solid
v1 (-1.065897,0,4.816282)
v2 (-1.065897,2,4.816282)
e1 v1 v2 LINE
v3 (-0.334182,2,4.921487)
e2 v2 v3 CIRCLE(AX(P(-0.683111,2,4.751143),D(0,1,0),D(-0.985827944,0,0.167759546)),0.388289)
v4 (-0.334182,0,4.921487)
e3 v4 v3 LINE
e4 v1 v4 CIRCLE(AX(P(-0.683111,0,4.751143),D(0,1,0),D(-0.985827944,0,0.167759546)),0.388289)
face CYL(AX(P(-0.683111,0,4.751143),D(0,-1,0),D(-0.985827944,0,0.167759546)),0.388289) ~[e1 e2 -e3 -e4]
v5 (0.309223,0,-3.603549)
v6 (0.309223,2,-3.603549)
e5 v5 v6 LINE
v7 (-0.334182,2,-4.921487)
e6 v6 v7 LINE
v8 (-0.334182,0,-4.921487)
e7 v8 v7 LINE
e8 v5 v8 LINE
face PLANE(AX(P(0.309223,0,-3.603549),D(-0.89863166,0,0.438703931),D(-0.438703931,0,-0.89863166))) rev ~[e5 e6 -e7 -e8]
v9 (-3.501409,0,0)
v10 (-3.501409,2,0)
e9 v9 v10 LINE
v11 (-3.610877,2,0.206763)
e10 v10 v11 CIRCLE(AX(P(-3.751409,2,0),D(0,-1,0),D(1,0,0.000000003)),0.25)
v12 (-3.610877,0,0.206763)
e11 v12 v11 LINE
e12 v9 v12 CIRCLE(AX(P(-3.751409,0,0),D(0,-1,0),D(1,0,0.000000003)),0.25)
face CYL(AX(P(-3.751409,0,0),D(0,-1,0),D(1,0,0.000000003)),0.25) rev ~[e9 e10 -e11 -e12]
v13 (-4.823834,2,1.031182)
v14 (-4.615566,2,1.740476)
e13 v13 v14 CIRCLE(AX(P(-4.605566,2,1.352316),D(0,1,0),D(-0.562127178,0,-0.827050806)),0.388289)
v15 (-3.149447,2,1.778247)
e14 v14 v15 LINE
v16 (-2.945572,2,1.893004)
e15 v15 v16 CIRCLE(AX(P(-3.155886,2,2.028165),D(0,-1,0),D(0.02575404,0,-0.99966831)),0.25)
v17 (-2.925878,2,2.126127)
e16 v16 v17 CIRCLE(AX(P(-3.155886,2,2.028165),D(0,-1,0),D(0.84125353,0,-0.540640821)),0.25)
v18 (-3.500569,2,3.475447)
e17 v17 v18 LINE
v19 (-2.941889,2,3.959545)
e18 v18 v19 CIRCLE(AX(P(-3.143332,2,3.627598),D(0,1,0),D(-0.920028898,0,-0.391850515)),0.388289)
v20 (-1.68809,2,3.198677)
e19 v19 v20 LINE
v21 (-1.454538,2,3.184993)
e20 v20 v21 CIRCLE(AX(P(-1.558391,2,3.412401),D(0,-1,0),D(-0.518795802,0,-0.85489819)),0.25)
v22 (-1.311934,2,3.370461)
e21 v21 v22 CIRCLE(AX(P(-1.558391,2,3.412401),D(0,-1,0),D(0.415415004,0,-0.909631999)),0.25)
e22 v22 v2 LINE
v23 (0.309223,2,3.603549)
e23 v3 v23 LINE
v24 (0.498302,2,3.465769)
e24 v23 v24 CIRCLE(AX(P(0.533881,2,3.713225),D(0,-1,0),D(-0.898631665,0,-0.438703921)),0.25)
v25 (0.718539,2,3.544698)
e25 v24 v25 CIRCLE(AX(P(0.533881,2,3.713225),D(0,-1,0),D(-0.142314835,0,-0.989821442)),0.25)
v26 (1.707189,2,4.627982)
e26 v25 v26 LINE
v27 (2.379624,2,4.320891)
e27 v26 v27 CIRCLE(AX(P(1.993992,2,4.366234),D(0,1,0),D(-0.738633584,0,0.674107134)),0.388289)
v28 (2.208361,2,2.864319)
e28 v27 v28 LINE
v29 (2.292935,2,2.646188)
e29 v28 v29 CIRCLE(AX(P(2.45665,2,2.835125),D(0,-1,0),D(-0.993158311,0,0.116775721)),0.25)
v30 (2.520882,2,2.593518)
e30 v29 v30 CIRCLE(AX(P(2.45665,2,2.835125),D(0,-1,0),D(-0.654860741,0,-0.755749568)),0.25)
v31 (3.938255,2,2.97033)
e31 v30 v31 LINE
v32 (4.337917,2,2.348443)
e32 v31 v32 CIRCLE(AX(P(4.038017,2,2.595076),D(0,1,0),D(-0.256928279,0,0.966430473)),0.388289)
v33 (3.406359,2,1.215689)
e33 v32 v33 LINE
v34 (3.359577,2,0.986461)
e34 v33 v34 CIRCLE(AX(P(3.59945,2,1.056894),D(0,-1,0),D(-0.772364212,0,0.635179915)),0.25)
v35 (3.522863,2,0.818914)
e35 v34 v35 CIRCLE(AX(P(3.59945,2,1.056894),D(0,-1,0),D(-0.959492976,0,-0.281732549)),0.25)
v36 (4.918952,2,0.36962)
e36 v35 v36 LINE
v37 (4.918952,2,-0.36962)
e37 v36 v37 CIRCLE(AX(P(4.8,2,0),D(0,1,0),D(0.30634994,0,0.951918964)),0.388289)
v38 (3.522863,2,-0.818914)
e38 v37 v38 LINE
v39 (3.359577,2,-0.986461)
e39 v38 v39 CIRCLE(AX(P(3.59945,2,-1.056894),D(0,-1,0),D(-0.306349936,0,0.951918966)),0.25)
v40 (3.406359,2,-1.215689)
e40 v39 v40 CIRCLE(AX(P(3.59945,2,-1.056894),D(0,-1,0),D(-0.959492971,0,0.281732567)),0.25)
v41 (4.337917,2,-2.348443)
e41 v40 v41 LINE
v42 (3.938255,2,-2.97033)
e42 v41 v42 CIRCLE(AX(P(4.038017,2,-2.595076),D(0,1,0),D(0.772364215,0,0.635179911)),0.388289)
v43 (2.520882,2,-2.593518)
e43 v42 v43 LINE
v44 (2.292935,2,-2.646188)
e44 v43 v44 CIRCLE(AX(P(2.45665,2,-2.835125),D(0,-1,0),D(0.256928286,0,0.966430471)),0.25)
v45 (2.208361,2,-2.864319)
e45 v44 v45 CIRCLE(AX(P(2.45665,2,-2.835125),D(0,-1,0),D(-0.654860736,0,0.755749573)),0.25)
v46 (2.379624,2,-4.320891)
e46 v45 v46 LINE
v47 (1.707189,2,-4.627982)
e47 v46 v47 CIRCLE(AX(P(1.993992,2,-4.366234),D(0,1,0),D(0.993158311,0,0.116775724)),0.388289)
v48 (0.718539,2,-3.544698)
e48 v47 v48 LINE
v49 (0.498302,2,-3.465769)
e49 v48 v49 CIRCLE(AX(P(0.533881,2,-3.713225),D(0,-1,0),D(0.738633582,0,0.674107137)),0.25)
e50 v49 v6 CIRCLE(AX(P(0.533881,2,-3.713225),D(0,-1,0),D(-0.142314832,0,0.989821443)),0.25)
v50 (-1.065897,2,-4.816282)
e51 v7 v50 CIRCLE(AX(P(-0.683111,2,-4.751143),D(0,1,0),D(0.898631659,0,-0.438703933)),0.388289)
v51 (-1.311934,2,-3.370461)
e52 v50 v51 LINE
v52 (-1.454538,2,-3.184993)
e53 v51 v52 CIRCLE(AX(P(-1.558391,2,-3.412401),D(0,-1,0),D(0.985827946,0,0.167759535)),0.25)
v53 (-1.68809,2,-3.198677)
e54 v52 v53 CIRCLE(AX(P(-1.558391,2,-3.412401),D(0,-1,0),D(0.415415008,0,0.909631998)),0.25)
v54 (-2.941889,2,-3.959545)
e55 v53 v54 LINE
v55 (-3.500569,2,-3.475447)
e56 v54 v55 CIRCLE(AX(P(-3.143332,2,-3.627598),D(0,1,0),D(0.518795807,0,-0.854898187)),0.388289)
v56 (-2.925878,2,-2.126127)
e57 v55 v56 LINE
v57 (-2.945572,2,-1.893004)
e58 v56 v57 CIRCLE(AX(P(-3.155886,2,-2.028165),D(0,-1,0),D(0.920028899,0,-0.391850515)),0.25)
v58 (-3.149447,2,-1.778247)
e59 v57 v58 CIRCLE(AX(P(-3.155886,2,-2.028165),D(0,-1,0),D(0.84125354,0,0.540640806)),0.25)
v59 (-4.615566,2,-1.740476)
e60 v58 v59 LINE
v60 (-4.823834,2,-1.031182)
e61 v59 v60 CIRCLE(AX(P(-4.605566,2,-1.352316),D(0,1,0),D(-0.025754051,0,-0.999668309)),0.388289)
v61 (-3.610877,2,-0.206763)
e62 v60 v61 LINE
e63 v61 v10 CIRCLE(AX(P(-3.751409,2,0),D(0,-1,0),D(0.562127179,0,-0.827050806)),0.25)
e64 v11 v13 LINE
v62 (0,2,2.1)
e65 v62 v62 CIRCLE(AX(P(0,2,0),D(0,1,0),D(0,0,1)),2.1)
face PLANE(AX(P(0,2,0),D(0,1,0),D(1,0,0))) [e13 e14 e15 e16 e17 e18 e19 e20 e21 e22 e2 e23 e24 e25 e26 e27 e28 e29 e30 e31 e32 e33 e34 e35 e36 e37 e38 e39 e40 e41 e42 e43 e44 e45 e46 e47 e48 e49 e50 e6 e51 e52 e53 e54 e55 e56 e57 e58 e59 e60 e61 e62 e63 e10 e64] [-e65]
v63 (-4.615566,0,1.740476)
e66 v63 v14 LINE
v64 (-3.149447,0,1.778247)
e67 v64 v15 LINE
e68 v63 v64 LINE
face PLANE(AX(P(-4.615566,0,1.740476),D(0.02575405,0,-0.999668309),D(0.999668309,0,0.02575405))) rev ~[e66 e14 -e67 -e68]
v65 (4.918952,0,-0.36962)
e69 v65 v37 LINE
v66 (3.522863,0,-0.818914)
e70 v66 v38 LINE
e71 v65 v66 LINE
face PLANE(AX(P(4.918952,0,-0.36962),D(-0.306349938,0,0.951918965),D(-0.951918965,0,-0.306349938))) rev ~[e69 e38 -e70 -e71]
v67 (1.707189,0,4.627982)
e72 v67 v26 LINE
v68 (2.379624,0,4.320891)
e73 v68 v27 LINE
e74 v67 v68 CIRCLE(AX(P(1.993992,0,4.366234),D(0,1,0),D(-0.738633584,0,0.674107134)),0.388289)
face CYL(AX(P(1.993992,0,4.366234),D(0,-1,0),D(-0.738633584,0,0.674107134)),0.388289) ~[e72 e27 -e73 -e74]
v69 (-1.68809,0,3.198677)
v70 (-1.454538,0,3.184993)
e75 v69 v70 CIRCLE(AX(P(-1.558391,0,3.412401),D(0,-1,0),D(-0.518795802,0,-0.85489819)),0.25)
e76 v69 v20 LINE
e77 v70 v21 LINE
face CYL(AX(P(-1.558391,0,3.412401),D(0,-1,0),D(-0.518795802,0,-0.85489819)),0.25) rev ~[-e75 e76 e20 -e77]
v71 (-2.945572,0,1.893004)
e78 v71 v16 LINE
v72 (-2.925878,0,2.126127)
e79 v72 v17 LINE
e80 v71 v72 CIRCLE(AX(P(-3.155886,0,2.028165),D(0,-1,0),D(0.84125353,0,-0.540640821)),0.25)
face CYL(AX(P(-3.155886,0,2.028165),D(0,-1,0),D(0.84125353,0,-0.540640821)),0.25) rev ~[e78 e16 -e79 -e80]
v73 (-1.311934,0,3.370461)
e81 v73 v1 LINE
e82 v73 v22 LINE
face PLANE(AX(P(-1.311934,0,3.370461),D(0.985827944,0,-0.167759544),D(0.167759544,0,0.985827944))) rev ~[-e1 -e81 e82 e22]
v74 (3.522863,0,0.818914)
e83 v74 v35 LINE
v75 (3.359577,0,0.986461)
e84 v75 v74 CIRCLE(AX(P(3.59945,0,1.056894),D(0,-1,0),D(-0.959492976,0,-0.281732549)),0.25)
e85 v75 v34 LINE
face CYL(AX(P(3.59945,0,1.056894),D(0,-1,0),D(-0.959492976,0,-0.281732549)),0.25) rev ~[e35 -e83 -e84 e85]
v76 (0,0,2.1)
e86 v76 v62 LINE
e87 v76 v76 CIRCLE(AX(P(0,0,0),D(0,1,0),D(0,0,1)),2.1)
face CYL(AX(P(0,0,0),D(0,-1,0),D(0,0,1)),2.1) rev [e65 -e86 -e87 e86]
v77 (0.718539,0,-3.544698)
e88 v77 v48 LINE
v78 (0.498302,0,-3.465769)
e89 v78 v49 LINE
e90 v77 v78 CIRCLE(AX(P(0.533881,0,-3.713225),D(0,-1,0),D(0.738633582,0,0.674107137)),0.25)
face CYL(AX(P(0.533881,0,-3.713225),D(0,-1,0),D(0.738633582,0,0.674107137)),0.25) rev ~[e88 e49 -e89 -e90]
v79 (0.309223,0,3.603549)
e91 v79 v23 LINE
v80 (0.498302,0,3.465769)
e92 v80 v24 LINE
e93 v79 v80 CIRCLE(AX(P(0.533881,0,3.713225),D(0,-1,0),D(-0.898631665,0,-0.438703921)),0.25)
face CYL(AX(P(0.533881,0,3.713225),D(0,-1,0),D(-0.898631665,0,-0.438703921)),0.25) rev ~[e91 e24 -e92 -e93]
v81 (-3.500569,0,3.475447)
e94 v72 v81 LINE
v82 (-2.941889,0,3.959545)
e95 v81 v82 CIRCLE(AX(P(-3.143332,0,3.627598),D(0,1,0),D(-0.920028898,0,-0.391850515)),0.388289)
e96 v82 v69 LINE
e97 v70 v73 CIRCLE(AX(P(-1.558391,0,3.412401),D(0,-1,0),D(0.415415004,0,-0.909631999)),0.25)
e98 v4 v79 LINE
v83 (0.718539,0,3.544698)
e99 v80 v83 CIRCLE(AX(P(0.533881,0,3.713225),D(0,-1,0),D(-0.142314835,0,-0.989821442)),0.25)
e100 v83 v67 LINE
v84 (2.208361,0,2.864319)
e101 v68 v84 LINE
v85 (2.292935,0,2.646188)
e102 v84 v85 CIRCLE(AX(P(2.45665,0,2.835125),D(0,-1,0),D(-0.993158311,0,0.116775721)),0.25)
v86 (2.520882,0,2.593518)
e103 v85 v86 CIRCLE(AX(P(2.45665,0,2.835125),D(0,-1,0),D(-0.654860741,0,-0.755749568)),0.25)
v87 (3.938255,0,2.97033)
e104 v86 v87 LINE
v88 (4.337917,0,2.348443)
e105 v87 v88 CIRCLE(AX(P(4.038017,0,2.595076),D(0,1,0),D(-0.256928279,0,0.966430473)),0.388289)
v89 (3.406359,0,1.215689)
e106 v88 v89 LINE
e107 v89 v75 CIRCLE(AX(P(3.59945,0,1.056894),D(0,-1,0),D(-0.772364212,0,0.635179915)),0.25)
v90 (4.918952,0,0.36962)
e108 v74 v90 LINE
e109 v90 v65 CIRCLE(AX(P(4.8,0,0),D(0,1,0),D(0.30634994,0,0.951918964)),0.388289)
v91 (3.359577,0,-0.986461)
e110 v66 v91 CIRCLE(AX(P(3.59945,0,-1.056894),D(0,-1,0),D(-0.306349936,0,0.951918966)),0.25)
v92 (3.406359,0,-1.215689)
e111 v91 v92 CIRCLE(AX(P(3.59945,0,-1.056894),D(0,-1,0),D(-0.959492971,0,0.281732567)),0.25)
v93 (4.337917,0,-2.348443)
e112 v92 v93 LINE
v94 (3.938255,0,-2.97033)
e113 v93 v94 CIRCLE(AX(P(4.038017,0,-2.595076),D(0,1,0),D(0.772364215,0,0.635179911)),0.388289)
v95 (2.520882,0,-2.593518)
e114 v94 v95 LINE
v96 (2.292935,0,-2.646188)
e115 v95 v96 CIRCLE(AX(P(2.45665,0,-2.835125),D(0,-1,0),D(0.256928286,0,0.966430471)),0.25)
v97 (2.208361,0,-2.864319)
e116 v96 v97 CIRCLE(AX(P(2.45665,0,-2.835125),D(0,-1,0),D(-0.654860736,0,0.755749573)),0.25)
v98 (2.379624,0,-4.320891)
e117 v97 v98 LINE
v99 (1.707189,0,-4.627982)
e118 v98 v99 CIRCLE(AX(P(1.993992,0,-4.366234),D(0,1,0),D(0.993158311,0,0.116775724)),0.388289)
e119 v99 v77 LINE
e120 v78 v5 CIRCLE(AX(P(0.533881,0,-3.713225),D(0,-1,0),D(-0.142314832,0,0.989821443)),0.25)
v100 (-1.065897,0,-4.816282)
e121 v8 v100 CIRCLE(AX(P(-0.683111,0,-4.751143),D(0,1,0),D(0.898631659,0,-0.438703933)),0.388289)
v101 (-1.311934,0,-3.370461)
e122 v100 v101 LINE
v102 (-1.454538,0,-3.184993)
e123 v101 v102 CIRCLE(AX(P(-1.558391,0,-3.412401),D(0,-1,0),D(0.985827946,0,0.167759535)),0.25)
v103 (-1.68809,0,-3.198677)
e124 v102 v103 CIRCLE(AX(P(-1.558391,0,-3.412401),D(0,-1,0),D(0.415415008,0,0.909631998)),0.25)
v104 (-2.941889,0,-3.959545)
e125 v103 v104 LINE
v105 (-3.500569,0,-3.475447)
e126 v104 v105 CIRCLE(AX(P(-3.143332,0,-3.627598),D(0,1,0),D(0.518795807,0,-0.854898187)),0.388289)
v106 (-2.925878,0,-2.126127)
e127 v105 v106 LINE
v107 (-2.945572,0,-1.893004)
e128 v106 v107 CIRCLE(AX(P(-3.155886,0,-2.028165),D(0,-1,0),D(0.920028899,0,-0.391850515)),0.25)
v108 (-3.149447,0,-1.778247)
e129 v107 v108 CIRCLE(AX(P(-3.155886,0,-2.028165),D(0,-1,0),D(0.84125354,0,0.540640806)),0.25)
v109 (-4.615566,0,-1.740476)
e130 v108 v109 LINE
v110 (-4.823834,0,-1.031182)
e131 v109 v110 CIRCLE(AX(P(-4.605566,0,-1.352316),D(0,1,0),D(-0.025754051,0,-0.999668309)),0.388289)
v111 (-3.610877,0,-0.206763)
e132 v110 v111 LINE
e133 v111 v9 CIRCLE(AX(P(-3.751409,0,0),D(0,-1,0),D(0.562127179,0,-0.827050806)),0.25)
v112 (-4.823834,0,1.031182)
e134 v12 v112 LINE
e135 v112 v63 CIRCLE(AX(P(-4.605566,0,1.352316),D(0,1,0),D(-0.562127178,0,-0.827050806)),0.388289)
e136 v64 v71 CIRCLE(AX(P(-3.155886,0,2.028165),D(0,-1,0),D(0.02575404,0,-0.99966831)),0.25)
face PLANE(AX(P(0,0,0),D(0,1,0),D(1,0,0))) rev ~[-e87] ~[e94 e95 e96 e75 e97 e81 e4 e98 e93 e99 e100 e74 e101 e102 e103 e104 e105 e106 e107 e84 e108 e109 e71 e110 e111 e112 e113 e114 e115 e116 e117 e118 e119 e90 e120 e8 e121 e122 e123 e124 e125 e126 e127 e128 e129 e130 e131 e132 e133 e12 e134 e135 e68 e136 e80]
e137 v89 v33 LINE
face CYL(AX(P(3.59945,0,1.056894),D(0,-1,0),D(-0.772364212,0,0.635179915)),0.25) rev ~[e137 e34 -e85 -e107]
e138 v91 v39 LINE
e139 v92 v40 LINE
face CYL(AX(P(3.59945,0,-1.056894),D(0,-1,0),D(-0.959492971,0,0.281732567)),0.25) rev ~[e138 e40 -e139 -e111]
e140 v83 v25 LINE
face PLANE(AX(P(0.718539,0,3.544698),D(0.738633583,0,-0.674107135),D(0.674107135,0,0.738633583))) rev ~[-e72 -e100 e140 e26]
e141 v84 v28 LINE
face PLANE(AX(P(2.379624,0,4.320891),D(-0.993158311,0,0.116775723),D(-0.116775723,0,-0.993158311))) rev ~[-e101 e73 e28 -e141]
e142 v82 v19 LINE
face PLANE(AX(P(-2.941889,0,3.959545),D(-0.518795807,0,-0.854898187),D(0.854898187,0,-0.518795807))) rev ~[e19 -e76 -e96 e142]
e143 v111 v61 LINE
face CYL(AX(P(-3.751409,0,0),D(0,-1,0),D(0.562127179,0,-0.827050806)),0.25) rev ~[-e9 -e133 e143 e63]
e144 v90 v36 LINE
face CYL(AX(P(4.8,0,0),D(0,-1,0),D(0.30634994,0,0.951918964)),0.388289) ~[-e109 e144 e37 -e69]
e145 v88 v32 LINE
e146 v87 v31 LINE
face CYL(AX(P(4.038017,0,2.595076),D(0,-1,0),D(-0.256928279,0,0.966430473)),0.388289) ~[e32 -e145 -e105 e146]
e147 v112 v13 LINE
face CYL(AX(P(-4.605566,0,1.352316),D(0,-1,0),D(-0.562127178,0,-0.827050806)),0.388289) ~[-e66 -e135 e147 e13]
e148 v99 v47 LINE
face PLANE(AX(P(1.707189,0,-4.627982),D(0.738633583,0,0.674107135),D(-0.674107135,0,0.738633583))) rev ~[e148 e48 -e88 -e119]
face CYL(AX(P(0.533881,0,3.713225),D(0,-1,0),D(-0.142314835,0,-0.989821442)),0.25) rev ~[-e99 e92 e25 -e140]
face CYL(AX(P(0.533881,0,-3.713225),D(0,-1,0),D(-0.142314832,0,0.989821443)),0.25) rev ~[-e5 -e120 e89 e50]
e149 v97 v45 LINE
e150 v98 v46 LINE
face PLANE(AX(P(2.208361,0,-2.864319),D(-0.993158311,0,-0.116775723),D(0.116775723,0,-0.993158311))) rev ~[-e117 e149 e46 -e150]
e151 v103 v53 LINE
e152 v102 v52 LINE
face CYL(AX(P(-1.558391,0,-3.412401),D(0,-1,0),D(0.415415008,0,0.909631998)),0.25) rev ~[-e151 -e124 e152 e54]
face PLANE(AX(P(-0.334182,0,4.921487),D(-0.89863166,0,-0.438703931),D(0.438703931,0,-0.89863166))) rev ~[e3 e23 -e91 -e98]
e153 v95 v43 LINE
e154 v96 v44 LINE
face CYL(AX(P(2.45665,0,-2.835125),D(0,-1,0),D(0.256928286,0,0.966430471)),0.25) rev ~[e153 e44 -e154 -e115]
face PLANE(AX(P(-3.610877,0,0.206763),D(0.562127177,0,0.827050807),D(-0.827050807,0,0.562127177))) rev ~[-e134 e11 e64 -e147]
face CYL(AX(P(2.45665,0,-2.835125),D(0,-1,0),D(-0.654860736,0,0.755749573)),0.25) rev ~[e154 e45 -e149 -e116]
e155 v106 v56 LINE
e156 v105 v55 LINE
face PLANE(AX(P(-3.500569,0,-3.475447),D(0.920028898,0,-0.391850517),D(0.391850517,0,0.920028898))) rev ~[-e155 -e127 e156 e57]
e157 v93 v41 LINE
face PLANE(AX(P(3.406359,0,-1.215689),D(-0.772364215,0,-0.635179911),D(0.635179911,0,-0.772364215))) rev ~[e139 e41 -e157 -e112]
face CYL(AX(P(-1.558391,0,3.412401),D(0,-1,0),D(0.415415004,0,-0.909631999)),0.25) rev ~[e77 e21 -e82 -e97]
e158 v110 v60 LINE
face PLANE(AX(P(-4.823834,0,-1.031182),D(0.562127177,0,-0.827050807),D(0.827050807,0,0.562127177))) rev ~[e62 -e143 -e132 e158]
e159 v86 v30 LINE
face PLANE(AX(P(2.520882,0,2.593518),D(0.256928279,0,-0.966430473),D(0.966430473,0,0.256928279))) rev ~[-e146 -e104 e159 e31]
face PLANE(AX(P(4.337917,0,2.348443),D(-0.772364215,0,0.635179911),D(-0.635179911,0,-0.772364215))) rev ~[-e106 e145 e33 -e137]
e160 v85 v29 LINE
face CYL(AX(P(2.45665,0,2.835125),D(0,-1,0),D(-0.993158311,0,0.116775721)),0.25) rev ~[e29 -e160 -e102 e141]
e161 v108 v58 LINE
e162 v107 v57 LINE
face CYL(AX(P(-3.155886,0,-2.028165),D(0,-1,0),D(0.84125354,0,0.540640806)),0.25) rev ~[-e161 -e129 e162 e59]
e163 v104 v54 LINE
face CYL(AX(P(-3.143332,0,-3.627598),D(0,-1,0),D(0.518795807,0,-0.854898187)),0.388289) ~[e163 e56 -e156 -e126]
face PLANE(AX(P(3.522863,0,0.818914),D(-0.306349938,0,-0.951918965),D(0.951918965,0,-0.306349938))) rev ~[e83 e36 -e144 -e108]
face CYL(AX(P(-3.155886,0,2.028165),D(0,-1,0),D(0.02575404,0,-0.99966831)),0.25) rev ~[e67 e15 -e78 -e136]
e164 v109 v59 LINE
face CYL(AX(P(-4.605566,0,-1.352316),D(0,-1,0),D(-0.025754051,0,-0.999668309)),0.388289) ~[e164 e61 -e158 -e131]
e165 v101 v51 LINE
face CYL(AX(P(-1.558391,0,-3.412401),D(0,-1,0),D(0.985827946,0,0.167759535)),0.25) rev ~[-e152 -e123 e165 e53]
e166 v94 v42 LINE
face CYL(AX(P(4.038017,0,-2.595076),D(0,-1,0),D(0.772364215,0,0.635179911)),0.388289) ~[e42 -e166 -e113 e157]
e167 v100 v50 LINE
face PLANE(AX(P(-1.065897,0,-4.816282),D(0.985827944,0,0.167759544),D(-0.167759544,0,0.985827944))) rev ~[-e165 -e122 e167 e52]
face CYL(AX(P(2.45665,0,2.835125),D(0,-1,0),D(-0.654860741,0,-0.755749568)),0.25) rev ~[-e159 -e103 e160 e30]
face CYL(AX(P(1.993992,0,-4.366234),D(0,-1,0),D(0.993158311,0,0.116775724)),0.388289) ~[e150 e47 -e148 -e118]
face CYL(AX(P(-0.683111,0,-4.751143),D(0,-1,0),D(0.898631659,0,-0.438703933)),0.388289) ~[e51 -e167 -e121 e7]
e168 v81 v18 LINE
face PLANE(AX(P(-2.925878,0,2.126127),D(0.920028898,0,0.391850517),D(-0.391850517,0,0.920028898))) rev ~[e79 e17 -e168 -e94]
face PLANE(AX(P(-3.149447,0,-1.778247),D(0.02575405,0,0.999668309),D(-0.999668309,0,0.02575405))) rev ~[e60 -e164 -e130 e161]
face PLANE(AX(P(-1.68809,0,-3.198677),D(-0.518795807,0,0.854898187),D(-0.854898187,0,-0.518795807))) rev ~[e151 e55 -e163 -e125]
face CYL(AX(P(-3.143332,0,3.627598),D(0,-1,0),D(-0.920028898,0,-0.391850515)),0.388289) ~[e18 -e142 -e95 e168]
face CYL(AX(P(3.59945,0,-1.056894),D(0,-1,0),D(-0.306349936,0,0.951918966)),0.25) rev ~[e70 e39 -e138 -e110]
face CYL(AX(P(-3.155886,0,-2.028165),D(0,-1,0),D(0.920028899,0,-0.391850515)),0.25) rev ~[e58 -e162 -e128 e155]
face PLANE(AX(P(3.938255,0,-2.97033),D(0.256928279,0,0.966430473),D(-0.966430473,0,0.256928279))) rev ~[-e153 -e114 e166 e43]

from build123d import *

# Parameters (mm, degrees)
SKETCH1_R           = 3.5014085
SKETCH1_R_2         = 2.1
BOSS_EXTRUDE3_DEPTH = 2


with BuildPart() as part:
    # Sketch1 → Boss-Extrude3 (new body)
    # profile 1 of 12: a face of its own
    with BuildSketch(Plane(origin=(0, 0, 0), x_dir=(1, 0, 0), z_dir=(0, 1, 0))):
        with BuildLine():
            ThreePointArc((-3.5014085, 0), (-3.359576854, 0.986460769), (-2.945572271, 1.893004354))
            ThreePointArc((-2.945572271, 1.893004354), (-3.033257635, 1.810305959), (-3.149447141, 1.778247481))
            Line((-3.149447141, 1.778247481), (-4.615566287, 1.740476447))
            ThreePointArc((-4.615566287, 1.740476447), (-4.978126808, 1.461709916), (-4.823834054, 1.03118157))
            Line((-4.823834054, 1.03118157), (-3.610876706, 0.206762702))
            ThreePointArc((-3.610876706, 0.206762702), (-3.530463995, 0.116976603), (-3.5014085, 0))
        make_face()
    # profile 2 of 12: a face of its own
    with BuildSketch(Plane(origin=(0, 0, 0), x_dir=(1, 0, 0), z_dir=(0, 1, 0))):
        with BuildLine():
            ThreePointArc((-2.945572271, 1.893004354), (-2.29293494, 2.646187984), (-1.454537658, 3.1849932))
            ThreePointArc((-1.454537658, 3.1849932), (-1.573013407, 3.162829171), (-1.688090363, 3.198676652))
            Line((-1.688090363, 3.198676652), (-2.941888835, 3.95954549))
            ThreePointArc((-2.941888835, 3.95954549), (-3.39760672, 3.921047178), (-3.500568593, 3.475446725))
            Line((-3.500568593, 3.475446725), (-2.925878429, 2.126127187))
            ThreePointArc((-2.925878429, 2.126127187), (-2.906772982, 2.007119921), (-2.945572271, 1.893004354))
        make_face()
    # profile 3 of 12: a face of its own
    with BuildSketch(Plane(origin=(0, 0, 0), x_dir=(1, 0, 0), z_dir=(0, 1, 0))):
        with BuildLine():
            ThreePointArc((-1.454537658, 3.1849932), (-0.498302384, 3.46576921), (0.498302384, 3.46576921))
            ThreePointArc((0.498302384, 3.46576921), (0.386651462, 3.511176468), (0.309223179, 3.603548588))
            Line((0.309223179, 3.603548588), (-0.334182465, 4.921486817))
            ThreePointArc((-0.334182465, 4.921486817), (-0.738370505, 5.135479665), (-1.065897337, 4.816282101))
            Line((-1.065897337, 4.816282101), (-1.311934425, 3.370461313))
            ThreePointArc((-1.311934425, 3.370461313), (-1.360202085, 3.260016845), (-1.454537658, 3.1849932))
        make_face()
    # profile 4 of 12: a face of its own
    with BuildSketch(Plane(origin=(0, 0, 0), x_dir=(1, 0, 0), z_dir=(0, 1, 0))):
        with BuildLine():
            ThreePointArc((0.498302384, 3.46576921), (1.454537658, 3.1849932), (2.29293494, 2.646187984))
            ThreePointArc((2.29293494, 2.646187984), (2.223557225, 2.744750046), (2.208360546, 2.864319308))
            Line((2.208360546, 2.864319308), (2.379624476, 4.320890853))
            ThreePointArc((2.379624476, 4.320890853), (2.155293128, 4.719433645), (1.707188792, 4.62798194))
            Line((1.707188792, 4.62798194), (0.71853949, 3.544697787))
            ThreePointArc((0.71853949, 3.544697787), (0.618223363, 3.477881456), (0.498302384, 3.46576921))
        make_face()
    # profile 5 of 12: a face of its own
    with BuildSketch(Plane(origin=(0, 0, 0), x_dir=(1, 0, 0), z_dir=(0, 1, 0))):
        with BuildLine():
            ThreePointArc((2.29293494, 2.646187984), (2.945572271, 1.893004354), (3.359576854, 0.986460769))
            ThreePointArc((3.359576854, 0.986460769), (3.354499279, 1.106884877), (3.406359043, 1.215688886))
            Line((3.406359043, 1.215688886), (4.33791746, 2.348442573))
            ThreePointArc((4.33791746, 2.348442573), (4.364666422, 2.805000788), (3.938254542, 2.970330213))
            Line((3.938254542, 2.970330213), (2.520882193, 2.593517759))
            ThreePointArc((2.520882193, 2.593517759), (2.400367261, 2.591543277), (2.29293494, 2.646187984))
        make_face()
    # profile 6 of 12: a face of its own
    with BuildSketch(Plane(origin=(0, 0, 0), x_dir=(1, 0, 0), z_dir=(0, 1, 0))):
        with BuildLine():
            Line((4.918952301, 0.369619631), (3.522862612, 0.818914167))
            ThreePointArc((3.522862612, 0.818914167), (3.420411514, 0.882408419), (3.359576854, 0.986460769))
            ThreePointArc((3.359576854, 0.986460769), (3.46576921, 0.498302384), (3.5014085, 0))
            ThreePointArc((3.5014085, 0), (3.46576921, -0.498302384), (3.359576854, -0.986460769))
            ThreePointArc((3.359576854, -0.986460769), (3.420411514, -0.882408419), (3.522862612, -0.818914167))
            Line((3.522862612, -0.818914167), (4.918952301, -0.369619631))
            ThreePointArc((4.918952301, -0.369619631), (5.188288966, 0), (4.918952301, 0.369619631))
        make_face()
    # profile 7 of 12: a face of its own
    with BuildSketch(Plane(origin=(0, 0, 0), x_dir=(1, 0, 0), z_dir=(0, 1, 0))):
        with BuildLine():
            ThreePointArc((3.406359043, -1.215688886), (3.354499279, -1.106884877), (3.359576854, -0.986460769))
            ThreePointArc((3.359576854, -0.986460769), (2.945572271, -1.893004354), (2.29293494, -2.646187984))
            ThreePointArc((2.29293494, -2.646187984), (2.400367261, -2.591543277), (2.520882193, -2.593517759))
            Line((2.520882193, -2.593517759), (3.938254542, -2.970330213))
            ThreePointArc((3.938254542, -2.970330213), (4.364666422, -2.805000788), (4.33791746, -2.348442573))
            Line((4.33791746, -2.348442573), (3.406359043, -1.215688886))
        make_face()
    # profile 8 of 12: a face of its own
    with BuildSketch(Plane(origin=(0, 0, 0), x_dir=(1, 0, 0), z_dir=(0, 1, 0))):
        with BuildLine():
            ThreePointArc((2.208360546, -2.864319308), (2.223557225, -2.744750046), (2.29293494, -2.646187984))
            ThreePointArc((2.29293494, -2.646187984), (1.454537658, -3.1849932), (0.498302384, -3.46576921))
            ThreePointArc((0.498302384, -3.46576921), (0.618223363, -3.477881456), (0.71853949, -3.544697787))
            Line((0.71853949, -3.544697787), (1.707188792, -4.62798194))
            ThreePointArc((1.707188792, -4.62798194), (2.155293128, -4.719433645), (2.379624476, -4.320890853))
            Line((2.379624476, -4.320890853), (2.208360546, -2.864319308))
        make_face()
    # profile 9 of 12: a face of its own
    with BuildSketch(Plane(origin=(0, 0, 0), x_dir=(1, 0, 0), z_dir=(0, 1, 0))):
        with BuildLine():
            ThreePointArc((0.309223179, -3.603548588), (0.386651462, -3.511176468), (0.498302384, -3.46576921))
            ThreePointArc((0.498302384, -3.46576921), (-0.498302384, -3.46576921), (-1.454537658, -3.1849932))
            ThreePointArc((-1.454537658, -3.1849932), (-1.360202085, -3.260016845), (-1.311934425, -3.370461313))
            Line((-1.311934425, -3.370461313), (-1.065897337, -4.816282101))
            ThreePointArc((-1.065897337, -4.816282101), (-0.738370505, -5.135479665), (-0.334182465, -4.921486817))
            Line((-0.334182465, -4.921486817), (0.309223179, -3.603548588))
        make_face()
    # profile 10 of 12: a face of its own
    with BuildSketch(Plane(origin=(0, 0, 0), x_dir=(1, 0, 0), z_dir=(0, 1, 0))):
        with BuildLine():
            ThreePointArc((-1.688090363, -3.198676652), (-1.573013407, -3.162829171), (-1.454537658, -3.1849932))
            ThreePointArc((-1.454537658, -3.1849932), (-2.29293494, -2.646187984), (-2.945572271, -1.893004354))
            ThreePointArc((-2.945572271, -1.893004354), (-2.906772982, -2.007119921), (-2.925878429, -2.126127187))
            Line((-2.925878429, -2.126127187), (-3.500568593, -3.475446725))
            ThreePointArc((-3.500568593, -3.475446725), (-3.39760672, -3.921047178), (-2.941888835, -3.95954549))
            Line((-2.941888835, -3.95954549), (-1.688090363, -3.198676652))
        make_face()
    # profile 11 of 12: a face of its own
    with BuildSketch(Plane(origin=(0, 0, 0), x_dir=(1, 0, 0), z_dir=(0, 1, 0))):
        with BuildLine():
            ThreePointArc((-2.945572271, -1.893004354), (-3.359576854, -0.986460769), (-3.5014085, 0))
            ThreePointArc((-3.5014085, 0), (-3.530463995, -0.116976603), (-3.610876706, -0.206762702))
            Line((-3.610876706, -0.206762702), (-4.823834054, -1.03118157))
            ThreePointArc((-4.823834054, -1.03118157), (-4.978126808, -1.461709916), (-4.615566287, -1.740476447))
            Line((-4.615566287, -1.740476447), (-3.149447141, -1.778247481))
            ThreePointArc((-3.149447141, -1.778247481), (-3.033257635, -1.810305959), (-2.945572271, -1.893004354))
        make_face()
    # profile 12 of 12: a face of its own
    with BuildSketch(Plane(origin=(0, 0, 0), x_dir=(1, 0, 0), z_dir=(0, 1, 0))):
        Circle(SKETCH1_R)
        with Locations(Location((0, 0, 0), (0, 0, 270))):
            Circle(SKETCH1_R_2, mode=Mode.SUBTRACT)
    extrude(amount=BOSS_EXTRUDE3_DEPTH)


solid = part.part
